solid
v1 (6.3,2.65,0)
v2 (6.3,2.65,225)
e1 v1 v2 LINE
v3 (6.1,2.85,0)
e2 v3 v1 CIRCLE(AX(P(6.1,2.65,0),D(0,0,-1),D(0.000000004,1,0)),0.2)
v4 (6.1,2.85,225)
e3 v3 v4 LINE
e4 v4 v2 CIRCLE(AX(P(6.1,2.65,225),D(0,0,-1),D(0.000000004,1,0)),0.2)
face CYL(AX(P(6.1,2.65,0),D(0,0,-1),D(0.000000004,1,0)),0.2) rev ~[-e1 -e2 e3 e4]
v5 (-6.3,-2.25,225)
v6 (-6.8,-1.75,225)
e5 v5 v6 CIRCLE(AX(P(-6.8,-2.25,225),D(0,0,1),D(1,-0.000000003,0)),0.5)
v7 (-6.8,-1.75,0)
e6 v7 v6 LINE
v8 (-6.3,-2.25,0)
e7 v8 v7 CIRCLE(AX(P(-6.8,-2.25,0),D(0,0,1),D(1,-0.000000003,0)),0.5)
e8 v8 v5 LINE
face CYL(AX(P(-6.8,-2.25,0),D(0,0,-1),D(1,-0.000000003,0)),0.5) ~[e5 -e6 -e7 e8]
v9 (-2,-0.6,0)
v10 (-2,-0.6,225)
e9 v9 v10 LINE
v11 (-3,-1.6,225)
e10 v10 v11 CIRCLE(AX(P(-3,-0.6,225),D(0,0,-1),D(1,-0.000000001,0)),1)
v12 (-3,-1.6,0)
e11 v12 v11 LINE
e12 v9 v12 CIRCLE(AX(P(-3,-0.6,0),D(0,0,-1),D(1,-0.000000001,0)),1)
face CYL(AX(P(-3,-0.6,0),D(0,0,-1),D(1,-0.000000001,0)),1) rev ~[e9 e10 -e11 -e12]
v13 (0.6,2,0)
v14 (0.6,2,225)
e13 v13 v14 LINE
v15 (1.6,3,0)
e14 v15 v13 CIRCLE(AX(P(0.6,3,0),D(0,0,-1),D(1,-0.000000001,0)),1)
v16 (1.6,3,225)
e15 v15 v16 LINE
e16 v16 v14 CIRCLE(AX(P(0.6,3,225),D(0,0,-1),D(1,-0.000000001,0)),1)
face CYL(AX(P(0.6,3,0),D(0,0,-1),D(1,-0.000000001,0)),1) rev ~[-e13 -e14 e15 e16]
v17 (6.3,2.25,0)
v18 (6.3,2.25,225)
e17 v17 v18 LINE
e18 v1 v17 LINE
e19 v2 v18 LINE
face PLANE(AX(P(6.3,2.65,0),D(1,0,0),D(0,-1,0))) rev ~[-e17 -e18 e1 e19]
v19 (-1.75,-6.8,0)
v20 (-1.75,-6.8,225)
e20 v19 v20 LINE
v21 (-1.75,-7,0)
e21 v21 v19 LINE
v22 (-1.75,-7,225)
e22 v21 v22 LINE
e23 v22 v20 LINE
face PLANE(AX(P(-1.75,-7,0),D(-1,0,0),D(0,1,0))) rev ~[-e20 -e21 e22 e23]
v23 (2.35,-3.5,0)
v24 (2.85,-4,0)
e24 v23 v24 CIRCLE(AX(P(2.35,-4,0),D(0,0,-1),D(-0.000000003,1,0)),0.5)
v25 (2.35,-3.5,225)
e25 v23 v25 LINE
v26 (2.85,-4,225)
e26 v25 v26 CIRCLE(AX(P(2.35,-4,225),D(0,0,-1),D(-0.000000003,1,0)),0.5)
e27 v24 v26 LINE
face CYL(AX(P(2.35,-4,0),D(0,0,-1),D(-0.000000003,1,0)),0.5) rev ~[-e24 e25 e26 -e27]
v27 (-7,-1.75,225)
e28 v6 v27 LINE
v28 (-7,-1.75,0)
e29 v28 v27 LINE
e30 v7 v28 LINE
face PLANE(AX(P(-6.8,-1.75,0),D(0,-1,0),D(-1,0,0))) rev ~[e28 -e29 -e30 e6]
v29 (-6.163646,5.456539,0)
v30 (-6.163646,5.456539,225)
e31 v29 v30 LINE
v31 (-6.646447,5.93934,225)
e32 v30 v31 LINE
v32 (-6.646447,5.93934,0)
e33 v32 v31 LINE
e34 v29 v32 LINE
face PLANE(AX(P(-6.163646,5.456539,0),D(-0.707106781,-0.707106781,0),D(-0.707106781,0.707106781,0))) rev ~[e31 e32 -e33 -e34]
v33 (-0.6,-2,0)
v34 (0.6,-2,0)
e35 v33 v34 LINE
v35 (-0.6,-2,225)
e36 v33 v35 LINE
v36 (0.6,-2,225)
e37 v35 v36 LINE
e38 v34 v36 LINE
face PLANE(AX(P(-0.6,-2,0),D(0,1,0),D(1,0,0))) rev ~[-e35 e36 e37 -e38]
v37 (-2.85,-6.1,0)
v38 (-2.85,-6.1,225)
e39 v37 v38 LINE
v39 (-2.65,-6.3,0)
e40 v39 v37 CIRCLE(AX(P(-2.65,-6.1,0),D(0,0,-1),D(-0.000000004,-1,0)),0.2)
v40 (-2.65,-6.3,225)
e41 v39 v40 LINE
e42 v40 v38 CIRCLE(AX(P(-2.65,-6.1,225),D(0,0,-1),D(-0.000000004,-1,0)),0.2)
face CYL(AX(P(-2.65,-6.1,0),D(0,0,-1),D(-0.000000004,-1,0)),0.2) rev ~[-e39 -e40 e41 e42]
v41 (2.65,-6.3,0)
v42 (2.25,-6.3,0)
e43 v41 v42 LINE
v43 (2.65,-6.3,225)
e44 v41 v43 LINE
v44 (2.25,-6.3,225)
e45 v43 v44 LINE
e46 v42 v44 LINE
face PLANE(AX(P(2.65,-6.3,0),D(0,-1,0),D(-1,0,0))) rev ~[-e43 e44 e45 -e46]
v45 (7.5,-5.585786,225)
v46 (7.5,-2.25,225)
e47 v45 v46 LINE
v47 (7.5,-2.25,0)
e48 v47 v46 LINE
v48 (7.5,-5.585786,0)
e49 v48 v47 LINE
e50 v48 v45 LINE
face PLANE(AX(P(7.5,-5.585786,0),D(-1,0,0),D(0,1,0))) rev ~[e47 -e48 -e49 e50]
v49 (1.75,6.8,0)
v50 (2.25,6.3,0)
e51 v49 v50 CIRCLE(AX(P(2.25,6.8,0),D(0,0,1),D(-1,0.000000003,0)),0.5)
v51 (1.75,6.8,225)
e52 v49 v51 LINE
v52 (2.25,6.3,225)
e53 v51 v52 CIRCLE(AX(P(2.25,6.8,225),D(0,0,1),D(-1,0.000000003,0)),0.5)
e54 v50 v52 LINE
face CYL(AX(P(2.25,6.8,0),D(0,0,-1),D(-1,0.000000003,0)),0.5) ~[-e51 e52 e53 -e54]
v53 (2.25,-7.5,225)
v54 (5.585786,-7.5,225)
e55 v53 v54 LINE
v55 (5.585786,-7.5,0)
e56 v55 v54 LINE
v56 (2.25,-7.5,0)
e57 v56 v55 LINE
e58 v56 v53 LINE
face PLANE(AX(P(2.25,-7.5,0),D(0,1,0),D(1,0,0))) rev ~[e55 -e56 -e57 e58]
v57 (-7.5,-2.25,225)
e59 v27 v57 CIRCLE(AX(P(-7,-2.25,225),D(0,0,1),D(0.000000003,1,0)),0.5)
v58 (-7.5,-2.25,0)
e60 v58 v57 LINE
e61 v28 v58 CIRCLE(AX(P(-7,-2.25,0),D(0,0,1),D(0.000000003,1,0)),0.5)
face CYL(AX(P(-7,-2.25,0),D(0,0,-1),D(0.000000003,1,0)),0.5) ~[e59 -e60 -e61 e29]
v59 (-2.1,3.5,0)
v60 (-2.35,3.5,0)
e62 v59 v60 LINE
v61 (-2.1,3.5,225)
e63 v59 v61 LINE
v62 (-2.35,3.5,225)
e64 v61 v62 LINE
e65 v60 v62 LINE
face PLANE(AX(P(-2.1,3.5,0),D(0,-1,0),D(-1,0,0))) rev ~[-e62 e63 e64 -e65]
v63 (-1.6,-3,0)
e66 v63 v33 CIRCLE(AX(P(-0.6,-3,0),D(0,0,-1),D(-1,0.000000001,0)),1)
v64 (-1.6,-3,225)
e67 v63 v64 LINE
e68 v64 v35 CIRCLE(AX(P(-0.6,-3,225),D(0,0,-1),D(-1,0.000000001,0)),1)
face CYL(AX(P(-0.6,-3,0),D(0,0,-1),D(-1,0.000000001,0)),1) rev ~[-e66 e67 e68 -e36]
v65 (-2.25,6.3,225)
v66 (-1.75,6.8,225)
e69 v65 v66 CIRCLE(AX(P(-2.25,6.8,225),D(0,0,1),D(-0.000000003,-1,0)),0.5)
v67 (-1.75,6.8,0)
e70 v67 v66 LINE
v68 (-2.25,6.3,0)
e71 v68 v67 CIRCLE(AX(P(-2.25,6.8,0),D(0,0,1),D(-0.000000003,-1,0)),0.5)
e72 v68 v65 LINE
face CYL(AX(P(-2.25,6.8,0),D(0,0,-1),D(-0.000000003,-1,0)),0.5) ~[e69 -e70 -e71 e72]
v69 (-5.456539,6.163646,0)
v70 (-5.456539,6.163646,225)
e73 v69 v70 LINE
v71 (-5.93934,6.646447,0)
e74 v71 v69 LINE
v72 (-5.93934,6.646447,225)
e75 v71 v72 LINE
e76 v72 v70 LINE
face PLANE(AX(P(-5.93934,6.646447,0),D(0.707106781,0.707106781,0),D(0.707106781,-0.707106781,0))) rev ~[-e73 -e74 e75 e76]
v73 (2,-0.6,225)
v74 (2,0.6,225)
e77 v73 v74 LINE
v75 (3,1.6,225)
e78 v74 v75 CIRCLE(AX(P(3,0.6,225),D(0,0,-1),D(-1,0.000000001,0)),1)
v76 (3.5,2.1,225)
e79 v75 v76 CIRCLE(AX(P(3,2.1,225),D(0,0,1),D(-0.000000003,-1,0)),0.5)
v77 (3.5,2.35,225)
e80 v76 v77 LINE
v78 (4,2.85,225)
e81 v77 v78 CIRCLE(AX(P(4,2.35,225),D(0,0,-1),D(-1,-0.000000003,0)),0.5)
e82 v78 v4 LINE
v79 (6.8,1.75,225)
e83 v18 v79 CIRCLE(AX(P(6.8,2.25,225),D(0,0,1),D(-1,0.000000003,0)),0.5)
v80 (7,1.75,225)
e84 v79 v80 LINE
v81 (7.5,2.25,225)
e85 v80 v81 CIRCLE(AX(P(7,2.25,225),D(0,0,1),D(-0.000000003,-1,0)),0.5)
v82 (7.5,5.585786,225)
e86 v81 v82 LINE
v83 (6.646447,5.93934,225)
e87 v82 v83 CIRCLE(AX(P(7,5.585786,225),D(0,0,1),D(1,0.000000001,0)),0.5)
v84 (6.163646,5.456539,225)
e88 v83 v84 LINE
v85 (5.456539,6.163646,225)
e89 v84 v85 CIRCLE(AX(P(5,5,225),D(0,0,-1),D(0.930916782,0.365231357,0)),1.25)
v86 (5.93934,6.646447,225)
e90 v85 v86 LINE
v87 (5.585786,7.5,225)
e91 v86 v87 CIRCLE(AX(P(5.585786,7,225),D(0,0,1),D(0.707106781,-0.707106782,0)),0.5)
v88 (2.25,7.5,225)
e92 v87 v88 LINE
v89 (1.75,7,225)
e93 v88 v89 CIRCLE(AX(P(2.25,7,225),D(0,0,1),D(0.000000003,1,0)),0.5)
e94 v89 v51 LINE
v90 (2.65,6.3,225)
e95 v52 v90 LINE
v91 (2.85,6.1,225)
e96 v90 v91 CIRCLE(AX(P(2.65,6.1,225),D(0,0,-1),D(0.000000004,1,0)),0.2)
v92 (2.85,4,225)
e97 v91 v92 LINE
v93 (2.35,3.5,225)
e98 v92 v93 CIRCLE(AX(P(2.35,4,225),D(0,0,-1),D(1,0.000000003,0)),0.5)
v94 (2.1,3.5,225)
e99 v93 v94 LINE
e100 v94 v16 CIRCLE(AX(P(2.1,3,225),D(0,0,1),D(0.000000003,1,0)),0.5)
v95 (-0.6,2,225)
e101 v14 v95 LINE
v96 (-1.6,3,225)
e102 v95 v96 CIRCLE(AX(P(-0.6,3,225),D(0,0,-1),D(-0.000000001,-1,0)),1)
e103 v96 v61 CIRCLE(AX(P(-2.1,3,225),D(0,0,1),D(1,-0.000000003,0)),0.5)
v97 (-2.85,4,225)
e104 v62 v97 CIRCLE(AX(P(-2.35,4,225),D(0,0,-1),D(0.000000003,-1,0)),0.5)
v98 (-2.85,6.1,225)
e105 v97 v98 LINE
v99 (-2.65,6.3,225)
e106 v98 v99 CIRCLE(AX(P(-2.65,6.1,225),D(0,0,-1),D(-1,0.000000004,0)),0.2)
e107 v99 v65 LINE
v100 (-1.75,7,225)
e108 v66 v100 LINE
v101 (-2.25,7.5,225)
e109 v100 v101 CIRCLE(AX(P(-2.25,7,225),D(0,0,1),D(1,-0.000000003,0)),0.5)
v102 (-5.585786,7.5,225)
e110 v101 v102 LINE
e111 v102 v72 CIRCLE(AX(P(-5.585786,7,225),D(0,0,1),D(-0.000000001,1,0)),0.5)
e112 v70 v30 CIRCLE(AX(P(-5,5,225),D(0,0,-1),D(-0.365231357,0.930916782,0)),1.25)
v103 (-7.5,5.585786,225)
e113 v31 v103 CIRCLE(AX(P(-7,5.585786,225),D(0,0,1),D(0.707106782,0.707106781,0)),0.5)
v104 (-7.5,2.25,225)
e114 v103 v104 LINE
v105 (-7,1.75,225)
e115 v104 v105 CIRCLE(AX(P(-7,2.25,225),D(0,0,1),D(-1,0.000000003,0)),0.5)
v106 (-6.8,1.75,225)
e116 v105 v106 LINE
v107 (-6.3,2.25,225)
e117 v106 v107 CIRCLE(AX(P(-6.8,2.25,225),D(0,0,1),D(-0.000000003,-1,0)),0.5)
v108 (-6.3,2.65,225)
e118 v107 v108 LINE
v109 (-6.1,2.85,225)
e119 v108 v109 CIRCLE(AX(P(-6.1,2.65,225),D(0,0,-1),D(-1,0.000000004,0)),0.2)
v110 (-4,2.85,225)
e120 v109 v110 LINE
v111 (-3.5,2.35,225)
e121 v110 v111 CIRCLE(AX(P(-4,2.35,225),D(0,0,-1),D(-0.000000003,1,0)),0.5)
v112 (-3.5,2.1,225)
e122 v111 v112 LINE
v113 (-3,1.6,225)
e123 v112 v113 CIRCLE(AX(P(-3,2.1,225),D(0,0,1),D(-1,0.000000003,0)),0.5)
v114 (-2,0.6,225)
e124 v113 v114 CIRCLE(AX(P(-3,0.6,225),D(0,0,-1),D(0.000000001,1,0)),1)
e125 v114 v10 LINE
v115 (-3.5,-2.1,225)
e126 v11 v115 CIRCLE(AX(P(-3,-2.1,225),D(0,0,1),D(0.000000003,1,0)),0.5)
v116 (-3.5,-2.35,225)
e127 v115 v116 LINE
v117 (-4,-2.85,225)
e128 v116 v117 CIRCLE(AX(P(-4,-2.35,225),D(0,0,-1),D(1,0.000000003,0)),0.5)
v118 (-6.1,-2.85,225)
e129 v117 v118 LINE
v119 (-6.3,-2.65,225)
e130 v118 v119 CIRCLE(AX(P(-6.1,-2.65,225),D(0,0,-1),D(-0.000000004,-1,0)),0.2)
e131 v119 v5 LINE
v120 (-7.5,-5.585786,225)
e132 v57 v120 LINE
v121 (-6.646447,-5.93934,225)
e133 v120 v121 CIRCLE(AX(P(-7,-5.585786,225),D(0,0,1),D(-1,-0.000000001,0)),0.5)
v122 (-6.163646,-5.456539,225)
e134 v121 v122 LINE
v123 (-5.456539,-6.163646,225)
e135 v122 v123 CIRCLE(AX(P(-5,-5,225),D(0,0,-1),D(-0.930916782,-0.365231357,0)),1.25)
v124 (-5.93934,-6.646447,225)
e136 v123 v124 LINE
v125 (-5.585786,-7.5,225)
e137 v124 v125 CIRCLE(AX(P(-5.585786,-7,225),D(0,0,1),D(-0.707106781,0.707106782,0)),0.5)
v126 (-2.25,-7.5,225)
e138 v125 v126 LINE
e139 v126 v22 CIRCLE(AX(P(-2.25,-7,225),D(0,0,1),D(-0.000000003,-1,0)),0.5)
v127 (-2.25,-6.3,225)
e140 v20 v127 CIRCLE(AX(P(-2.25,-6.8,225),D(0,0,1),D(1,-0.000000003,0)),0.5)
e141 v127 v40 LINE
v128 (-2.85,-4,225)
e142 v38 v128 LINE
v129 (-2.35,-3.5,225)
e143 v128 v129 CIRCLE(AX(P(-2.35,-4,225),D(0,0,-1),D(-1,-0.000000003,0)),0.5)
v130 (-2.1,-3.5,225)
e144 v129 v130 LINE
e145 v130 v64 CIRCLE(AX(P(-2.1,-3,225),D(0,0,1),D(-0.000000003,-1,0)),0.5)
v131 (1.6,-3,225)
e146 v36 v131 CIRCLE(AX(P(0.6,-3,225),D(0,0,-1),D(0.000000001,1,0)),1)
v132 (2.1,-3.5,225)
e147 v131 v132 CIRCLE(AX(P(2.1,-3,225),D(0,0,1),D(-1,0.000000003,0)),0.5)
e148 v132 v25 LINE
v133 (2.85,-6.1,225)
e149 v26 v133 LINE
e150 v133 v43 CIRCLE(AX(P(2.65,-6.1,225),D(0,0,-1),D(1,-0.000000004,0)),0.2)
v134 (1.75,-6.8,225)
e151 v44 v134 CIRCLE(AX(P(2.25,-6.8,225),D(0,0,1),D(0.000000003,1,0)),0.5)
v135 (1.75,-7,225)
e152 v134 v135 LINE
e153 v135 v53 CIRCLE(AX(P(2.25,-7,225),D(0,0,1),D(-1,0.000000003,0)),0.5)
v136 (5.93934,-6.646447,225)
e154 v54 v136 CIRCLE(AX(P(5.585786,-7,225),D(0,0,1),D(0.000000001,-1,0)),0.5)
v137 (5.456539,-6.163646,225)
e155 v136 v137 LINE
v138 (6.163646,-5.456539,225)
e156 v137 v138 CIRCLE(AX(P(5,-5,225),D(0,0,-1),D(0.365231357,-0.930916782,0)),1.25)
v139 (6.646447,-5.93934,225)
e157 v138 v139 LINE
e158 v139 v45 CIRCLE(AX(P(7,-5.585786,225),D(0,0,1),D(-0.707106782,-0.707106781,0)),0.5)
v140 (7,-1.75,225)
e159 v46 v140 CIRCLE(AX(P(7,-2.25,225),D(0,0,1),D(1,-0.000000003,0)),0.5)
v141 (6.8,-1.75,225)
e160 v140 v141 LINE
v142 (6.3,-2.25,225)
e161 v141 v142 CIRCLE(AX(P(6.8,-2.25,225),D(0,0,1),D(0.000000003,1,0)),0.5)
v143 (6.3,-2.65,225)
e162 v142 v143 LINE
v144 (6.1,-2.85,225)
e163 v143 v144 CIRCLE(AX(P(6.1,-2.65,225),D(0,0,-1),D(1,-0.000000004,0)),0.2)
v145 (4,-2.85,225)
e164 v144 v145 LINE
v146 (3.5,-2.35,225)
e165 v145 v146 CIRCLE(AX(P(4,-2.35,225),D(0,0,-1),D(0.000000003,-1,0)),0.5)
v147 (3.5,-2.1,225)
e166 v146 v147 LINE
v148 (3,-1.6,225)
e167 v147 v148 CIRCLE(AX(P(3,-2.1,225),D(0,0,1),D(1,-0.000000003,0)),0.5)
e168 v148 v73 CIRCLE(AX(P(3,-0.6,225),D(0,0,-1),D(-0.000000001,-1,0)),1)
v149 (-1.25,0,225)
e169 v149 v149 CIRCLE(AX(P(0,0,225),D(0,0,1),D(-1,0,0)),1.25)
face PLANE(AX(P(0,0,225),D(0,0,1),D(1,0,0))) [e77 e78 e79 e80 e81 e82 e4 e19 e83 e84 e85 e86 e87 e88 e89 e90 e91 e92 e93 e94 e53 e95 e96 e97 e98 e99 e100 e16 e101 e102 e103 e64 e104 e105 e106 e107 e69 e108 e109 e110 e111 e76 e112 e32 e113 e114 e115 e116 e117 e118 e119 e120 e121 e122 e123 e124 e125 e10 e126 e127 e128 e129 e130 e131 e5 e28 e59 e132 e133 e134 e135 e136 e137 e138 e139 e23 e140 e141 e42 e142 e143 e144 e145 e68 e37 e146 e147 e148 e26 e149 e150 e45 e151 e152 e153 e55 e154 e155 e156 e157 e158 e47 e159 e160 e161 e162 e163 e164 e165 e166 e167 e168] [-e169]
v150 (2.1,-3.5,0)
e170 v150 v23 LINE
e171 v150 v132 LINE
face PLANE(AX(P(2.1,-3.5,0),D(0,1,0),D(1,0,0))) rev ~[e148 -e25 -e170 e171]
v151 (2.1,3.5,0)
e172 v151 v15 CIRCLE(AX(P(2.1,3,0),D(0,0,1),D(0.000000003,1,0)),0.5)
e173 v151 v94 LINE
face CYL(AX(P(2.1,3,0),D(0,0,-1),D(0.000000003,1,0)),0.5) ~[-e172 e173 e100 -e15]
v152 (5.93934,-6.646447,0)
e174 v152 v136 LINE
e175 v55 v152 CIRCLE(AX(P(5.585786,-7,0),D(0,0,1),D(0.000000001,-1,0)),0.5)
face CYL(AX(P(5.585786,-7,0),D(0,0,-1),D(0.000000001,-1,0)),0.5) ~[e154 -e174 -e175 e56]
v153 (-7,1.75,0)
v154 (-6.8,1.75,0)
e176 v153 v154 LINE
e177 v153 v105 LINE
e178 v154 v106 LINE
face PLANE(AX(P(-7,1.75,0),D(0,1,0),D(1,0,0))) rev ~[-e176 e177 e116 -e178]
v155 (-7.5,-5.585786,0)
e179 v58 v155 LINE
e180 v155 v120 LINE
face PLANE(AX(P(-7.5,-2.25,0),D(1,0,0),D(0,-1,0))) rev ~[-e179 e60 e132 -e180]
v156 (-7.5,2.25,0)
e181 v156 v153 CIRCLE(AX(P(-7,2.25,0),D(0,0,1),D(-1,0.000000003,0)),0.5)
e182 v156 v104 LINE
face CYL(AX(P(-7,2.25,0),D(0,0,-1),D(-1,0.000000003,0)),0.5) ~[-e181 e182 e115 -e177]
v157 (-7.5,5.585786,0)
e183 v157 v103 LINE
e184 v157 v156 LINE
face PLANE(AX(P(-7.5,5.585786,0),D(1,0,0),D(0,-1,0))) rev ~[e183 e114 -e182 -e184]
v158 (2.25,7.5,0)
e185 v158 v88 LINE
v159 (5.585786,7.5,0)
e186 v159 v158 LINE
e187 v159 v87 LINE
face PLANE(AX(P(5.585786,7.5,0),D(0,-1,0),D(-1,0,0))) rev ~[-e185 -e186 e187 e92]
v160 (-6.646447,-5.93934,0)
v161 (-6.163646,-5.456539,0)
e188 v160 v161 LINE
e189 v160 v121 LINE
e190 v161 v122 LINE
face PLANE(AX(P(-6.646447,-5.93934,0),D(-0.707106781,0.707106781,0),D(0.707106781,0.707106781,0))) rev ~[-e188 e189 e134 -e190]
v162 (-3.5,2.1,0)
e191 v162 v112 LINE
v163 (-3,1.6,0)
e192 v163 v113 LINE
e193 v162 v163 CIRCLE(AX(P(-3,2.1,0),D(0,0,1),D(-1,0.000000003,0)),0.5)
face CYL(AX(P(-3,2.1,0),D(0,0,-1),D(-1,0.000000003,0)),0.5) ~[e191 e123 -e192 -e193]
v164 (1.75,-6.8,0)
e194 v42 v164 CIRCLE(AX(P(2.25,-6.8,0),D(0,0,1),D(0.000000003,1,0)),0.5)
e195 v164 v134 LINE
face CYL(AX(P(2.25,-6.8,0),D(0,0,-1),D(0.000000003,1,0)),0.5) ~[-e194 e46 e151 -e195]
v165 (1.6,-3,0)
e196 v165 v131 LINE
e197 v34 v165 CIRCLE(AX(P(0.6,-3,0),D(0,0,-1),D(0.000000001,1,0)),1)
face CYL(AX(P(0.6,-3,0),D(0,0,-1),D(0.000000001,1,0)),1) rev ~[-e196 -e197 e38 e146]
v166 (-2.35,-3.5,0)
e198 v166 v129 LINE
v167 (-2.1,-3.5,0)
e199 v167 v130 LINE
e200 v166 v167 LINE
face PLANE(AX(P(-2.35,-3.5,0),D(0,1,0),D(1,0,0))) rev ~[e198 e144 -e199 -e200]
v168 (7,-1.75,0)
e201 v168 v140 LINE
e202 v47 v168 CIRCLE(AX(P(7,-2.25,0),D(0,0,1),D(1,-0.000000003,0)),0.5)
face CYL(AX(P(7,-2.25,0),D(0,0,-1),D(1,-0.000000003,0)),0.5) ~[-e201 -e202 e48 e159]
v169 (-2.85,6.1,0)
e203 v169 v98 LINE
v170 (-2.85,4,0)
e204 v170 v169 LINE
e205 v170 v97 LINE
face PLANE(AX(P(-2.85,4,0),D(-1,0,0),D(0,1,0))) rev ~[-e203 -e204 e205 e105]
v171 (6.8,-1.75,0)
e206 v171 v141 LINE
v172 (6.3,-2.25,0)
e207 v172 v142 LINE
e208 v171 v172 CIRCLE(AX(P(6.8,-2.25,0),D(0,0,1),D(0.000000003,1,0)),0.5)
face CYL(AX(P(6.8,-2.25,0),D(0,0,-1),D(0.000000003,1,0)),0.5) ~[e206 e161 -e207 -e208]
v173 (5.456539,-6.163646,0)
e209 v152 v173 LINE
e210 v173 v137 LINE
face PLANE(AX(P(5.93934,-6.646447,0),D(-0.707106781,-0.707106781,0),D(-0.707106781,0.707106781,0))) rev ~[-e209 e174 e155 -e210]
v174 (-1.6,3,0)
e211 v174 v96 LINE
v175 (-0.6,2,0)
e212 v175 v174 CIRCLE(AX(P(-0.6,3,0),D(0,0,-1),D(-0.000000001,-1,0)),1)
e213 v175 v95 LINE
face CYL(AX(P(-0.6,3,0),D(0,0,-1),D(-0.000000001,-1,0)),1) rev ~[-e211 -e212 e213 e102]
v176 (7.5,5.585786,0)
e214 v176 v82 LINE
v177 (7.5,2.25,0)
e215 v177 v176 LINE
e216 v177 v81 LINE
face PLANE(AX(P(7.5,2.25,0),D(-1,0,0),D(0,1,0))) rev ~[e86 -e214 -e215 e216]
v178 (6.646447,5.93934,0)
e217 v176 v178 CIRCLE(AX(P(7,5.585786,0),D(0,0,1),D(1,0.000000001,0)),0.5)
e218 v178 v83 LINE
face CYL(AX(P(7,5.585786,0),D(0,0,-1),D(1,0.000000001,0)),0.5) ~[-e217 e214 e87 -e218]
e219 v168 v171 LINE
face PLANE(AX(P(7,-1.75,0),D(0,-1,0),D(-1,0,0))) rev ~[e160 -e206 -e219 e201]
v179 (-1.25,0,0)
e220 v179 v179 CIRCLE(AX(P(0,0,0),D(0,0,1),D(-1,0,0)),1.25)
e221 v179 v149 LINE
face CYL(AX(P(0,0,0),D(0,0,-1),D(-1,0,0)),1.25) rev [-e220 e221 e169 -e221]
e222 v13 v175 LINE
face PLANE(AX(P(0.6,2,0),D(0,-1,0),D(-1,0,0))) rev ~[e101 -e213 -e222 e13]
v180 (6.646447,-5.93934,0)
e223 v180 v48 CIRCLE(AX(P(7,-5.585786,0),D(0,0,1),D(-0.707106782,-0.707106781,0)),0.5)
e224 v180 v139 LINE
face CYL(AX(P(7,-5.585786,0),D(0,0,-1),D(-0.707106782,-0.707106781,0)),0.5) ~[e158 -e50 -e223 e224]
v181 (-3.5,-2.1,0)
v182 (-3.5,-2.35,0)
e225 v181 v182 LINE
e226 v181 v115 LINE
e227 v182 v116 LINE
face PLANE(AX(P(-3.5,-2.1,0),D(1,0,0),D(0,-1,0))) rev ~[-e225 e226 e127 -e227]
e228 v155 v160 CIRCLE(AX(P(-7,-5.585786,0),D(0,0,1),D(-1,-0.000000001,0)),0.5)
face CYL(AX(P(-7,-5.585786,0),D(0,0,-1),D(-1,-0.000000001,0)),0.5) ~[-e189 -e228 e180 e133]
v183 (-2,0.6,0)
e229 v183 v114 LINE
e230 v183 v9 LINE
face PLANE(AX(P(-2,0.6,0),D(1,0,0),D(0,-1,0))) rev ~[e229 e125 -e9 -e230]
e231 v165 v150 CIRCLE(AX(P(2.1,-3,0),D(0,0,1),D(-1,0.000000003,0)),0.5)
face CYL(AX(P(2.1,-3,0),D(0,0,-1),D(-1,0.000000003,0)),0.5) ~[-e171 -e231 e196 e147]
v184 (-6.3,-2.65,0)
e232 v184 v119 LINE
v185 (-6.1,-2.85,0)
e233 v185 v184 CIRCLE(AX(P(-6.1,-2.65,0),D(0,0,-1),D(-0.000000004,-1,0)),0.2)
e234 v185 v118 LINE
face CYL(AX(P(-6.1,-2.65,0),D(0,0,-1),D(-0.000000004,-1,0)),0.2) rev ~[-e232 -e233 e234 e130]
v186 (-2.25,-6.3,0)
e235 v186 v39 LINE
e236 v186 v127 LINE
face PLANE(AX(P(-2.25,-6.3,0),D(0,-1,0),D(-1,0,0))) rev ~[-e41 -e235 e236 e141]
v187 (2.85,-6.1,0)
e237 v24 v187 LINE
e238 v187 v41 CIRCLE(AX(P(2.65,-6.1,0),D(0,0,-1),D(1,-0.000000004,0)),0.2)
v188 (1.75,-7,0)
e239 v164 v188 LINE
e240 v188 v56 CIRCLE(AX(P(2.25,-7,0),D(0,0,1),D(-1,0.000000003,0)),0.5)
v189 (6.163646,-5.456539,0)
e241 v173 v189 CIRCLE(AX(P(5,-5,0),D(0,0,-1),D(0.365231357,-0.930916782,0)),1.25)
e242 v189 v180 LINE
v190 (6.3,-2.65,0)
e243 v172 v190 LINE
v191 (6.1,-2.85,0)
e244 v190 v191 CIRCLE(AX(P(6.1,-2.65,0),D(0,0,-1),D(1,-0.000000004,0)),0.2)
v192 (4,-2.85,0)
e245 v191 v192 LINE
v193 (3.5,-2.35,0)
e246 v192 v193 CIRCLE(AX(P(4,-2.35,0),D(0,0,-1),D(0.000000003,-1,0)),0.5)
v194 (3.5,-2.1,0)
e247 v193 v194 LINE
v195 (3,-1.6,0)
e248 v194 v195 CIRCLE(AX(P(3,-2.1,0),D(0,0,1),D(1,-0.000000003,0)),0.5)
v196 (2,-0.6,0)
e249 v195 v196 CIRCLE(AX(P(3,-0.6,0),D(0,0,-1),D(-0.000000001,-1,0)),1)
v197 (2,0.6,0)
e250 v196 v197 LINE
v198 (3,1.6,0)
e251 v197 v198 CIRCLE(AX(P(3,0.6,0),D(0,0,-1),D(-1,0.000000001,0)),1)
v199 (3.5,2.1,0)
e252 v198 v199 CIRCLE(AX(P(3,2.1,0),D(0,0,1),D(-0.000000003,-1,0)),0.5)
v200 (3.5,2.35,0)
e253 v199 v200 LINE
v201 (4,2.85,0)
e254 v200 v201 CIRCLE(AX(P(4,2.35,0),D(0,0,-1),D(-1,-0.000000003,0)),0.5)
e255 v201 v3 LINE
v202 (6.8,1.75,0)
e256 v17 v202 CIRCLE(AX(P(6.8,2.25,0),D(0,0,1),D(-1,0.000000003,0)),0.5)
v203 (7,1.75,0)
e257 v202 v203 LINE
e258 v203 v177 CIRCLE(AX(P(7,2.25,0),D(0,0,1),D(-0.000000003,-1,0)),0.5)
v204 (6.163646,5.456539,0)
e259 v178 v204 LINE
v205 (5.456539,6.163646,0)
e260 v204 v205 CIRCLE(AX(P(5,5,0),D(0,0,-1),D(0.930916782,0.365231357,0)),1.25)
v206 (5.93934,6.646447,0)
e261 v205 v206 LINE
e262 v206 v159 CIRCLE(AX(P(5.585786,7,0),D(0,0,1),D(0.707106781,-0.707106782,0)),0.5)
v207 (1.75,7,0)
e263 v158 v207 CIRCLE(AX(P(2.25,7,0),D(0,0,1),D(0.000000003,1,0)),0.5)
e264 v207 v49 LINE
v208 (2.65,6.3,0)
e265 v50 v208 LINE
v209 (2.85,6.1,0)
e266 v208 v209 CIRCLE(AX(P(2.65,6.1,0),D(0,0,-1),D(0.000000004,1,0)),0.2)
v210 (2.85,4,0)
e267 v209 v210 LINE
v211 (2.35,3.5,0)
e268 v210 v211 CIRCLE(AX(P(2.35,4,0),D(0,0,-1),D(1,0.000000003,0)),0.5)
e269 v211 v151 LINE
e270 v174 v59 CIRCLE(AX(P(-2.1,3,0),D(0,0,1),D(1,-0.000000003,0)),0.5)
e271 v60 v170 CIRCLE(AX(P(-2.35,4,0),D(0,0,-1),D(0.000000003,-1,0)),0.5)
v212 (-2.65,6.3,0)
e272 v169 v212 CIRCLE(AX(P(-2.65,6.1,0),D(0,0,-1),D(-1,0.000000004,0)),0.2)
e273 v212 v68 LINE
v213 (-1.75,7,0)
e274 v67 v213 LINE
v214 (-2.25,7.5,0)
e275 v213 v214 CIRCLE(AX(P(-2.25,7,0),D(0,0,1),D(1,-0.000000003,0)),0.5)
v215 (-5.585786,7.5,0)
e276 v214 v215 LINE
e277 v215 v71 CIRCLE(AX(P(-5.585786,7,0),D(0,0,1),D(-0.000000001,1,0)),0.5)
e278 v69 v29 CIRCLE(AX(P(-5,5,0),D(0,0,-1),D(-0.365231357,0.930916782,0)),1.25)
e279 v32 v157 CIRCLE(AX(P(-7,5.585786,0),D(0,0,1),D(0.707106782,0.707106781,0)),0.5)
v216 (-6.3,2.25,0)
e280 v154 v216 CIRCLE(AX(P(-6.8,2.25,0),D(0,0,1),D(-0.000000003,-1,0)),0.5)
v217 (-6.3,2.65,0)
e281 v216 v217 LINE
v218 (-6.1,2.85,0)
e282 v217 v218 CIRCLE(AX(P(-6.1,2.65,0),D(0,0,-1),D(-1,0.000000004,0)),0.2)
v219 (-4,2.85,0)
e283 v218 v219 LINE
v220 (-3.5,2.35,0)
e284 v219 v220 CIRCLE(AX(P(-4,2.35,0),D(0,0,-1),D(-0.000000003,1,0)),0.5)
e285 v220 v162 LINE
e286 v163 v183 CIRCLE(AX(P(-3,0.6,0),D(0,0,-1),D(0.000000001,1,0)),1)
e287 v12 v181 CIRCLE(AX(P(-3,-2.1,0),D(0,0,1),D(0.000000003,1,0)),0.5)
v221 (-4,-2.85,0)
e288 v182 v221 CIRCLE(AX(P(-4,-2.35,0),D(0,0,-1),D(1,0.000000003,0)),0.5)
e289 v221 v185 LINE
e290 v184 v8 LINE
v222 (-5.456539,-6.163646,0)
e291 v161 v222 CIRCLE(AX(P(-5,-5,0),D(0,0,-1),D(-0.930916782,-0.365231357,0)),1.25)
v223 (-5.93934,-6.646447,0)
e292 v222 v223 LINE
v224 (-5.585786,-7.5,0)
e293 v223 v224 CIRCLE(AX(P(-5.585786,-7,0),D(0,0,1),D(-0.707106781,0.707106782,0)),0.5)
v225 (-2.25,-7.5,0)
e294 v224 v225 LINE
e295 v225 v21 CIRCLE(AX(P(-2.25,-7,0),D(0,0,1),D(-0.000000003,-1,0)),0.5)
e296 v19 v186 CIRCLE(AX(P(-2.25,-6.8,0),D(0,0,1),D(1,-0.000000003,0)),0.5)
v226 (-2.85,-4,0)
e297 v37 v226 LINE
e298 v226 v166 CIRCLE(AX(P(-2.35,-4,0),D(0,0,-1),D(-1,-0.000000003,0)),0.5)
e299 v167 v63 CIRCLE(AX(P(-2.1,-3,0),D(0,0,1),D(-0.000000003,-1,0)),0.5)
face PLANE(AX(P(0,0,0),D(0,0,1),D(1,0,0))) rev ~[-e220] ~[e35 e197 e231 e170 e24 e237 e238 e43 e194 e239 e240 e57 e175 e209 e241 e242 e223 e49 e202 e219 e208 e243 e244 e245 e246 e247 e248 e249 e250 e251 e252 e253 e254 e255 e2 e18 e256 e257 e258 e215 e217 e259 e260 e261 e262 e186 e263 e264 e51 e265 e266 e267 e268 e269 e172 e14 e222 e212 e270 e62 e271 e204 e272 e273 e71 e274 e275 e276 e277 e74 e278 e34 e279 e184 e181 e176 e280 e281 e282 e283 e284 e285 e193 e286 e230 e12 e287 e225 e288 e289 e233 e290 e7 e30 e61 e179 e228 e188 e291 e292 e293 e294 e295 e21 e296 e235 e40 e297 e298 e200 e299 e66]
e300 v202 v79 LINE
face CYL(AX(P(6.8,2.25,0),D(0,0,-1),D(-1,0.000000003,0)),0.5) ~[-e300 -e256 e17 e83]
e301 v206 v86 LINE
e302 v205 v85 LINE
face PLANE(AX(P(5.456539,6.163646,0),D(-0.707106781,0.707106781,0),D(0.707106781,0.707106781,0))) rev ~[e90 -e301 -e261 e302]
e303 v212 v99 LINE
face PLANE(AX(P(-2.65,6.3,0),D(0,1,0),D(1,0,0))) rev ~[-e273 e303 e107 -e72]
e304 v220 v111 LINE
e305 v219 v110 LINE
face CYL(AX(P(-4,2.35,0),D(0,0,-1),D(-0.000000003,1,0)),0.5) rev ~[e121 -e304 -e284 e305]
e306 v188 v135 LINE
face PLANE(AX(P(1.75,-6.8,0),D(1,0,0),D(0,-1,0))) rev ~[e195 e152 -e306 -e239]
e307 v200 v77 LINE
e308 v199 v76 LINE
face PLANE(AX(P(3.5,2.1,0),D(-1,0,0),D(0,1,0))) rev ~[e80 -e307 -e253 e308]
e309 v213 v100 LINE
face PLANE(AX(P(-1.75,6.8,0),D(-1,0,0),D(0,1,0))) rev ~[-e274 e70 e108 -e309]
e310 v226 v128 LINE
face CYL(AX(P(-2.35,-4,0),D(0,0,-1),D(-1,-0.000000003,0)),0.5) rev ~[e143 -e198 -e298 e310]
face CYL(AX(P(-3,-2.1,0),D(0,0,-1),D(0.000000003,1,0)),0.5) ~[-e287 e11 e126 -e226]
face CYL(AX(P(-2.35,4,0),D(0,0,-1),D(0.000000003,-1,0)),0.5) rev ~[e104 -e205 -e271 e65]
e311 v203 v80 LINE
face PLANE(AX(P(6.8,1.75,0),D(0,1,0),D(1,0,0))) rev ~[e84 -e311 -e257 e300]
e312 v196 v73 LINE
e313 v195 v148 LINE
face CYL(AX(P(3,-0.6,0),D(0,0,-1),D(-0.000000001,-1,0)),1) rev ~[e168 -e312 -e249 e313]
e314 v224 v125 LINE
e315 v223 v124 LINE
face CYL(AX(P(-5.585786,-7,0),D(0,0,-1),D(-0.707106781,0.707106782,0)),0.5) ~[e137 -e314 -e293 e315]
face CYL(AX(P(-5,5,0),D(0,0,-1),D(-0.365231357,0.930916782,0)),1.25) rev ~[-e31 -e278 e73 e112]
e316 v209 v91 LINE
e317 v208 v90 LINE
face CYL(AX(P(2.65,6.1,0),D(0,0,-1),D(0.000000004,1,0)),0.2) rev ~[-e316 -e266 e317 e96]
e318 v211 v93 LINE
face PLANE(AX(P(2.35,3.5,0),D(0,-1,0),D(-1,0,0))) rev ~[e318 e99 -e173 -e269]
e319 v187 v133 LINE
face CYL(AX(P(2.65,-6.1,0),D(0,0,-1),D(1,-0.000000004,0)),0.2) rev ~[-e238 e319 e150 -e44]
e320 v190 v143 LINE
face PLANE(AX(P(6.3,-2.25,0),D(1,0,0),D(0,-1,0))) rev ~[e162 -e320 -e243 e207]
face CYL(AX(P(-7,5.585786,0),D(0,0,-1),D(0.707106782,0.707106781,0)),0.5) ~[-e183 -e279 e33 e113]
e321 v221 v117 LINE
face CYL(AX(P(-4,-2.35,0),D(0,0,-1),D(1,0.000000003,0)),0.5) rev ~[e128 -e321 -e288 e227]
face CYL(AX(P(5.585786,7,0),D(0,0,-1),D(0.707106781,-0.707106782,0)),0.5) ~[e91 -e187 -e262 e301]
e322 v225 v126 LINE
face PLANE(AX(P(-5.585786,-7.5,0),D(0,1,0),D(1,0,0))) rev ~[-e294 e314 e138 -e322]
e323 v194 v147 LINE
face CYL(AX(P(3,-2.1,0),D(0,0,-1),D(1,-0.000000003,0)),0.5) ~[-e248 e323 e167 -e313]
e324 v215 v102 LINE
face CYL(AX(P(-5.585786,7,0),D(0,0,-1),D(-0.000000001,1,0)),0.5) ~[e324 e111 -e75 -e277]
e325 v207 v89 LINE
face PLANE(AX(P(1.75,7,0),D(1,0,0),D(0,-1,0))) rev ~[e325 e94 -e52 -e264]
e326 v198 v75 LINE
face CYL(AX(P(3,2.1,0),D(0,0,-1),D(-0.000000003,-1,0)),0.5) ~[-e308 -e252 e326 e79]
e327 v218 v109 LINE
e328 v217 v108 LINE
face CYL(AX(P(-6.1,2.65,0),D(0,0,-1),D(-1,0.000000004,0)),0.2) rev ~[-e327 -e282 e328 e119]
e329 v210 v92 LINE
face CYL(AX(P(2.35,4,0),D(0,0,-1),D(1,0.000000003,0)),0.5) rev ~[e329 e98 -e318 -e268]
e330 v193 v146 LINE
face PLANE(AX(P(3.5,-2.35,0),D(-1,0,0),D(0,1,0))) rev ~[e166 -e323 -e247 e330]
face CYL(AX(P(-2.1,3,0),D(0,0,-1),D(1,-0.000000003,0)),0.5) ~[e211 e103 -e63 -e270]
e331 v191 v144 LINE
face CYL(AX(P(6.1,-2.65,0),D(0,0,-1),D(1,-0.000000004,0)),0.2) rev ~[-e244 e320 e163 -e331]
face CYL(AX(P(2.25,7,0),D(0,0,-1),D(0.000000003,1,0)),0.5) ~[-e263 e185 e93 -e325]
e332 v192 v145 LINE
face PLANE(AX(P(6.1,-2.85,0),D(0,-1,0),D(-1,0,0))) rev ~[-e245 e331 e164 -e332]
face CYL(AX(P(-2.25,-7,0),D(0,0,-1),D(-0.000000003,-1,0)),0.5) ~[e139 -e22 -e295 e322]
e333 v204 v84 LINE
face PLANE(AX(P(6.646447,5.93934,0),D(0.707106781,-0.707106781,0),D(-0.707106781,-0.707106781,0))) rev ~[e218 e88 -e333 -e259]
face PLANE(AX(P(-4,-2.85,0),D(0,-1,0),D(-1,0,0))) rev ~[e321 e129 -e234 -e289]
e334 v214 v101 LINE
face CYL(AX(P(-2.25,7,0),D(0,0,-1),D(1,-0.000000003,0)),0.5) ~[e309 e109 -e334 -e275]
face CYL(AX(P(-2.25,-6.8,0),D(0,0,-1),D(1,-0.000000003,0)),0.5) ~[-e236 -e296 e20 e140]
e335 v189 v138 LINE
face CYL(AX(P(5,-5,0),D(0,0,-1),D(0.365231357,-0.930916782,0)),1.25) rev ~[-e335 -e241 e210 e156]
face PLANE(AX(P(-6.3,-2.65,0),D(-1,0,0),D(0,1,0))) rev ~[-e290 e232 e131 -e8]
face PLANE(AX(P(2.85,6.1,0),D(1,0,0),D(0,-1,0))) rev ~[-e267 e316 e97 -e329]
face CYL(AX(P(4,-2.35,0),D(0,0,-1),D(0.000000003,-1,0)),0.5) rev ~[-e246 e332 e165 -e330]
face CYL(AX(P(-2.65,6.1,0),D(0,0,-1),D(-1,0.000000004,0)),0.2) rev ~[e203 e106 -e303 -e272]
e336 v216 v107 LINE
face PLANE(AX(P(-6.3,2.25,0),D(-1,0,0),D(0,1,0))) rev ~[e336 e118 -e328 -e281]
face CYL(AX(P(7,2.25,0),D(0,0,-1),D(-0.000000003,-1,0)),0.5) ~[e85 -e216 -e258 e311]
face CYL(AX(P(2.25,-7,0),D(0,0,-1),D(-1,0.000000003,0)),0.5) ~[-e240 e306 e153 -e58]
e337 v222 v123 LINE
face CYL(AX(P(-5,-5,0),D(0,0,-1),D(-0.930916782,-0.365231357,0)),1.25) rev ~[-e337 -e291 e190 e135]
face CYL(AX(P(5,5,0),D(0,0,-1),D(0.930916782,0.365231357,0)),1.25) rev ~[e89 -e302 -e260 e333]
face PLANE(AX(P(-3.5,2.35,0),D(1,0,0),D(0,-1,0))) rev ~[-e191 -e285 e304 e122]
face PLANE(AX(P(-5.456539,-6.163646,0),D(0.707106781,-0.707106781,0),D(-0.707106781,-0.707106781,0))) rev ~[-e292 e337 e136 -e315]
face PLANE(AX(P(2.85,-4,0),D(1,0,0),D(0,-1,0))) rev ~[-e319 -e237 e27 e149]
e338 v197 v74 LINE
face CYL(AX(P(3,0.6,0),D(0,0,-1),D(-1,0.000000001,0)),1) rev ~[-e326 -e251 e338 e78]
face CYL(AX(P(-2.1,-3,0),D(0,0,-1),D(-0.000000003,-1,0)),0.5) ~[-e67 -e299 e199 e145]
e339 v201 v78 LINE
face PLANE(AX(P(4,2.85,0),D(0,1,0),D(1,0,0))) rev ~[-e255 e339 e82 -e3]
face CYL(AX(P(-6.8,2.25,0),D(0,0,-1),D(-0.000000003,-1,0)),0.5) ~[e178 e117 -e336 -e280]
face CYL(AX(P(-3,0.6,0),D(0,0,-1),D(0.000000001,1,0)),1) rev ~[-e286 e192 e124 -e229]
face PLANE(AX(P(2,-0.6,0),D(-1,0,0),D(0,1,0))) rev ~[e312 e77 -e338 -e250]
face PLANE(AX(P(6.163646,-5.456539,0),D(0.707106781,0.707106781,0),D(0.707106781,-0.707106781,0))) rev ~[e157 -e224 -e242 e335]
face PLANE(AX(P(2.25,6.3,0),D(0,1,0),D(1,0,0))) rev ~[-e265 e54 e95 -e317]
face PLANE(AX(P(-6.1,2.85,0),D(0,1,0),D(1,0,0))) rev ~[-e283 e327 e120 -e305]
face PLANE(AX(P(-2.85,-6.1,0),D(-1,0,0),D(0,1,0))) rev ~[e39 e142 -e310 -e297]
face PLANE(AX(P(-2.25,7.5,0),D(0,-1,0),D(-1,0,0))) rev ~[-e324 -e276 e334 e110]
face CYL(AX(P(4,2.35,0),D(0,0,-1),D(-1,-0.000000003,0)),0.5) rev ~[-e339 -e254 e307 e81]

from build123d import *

# Parameters (mm, degrees)
SKETCH1_R           = 1.25
BOSS_EXTRUDE1_DEPTH = 225


with BuildPart() as part:
    # Sketch1 → Boss-Extrude1 (new body)
    with BuildSketch(Plane.XY):
        with BuildLine():
            Line((6.646446609, 5.939339828), (6.163645978, 5.456539197))
            ThreePointArc((6.163645978, 5.456539197), (4.116116524, 4.116116524), (5.456539197, 6.163645978))
            Line((5.456539197, 6.163645978), (5.939339828, 6.646446609))
            ThreePointArc((5.939339828, 6.646446609), (6.047726204, 7.191341716), (5.585786438, 7.5))
            Line((5.585786438, 7.5), (2.25, 7.5))
            ThreePointArc((2.25, 7.5), (1.896446609, 7.353553391), (1.75, 7))
            Line((1.75, 7), (1.75, 6.8))
            ThreePointArc((1.75, 6.8), (1.896446609, 6.446446609), (2.25, 6.3))
            Line((2.25, 6.3), (2.65, 6.3))
            ThreePointArc((2.65, 6.3), (2.791421356, 6.241421356), (2.85, 6.1))
            Line((2.85, 6.1), (2.85, 4))
            ThreePointArc((2.85, 4), (2.703553391, 3.646446609), (2.35, 3.5))
            Line((2.35, 3.5), (2.1, 3.5))
            ThreePointArc((2.1, 3.5), (1.746446609, 3.353553391), (1.6, 3))
            ThreePointArc((1.6, 3), (1.307106781, 2.292893219), (0.6, 2))
            Line((0.6, 2), (-0.6, 2))
            ThreePointArc((-0.6, 2), (-1.307106781, 2.292893219), (-1.6, 3))
            ThreePointArc((-1.6, 3), (-1.746446609, 3.353553391), (-2.1, 3.5))
            Line((-2.1, 3.5), (-2.35, 3.5))
            ThreePointArc((-2.35, 3.5), (-2.703553391, 3.646446609), (-2.85, 4))
            Line((-2.85, 4), (-2.85, 6.1))
            ThreePointArc((-2.85, 6.1), (-2.791421356, 6.241421356), (-2.65, 6.3))
            Line((-2.65, 6.3), (-2.25, 6.3))
            ThreePointArc((-2.25, 6.3), (-1.896446609, 6.446446609), (-1.75, 6.8))
            Line((-1.75, 6.8), (-1.75, 7))
            ThreePointArc((-1.75, 7), (-1.896446609, 7.353553391), (-2.25, 7.5))
            Line((-2.25, 7.5), (-5.585786438, 7.5))
            ThreePointArc((-5.585786438, 7.5), (-6.047726204, 7.191341716), (-5.939339828, 6.646446609))
            Line((-5.939339828, 6.646446609), (-5.456539197, 6.163645978))
            ThreePointArc((-5.456539197, 6.163645978), (-4.116116524, 4.116116524), (-6.163645978, 5.456539197))
            Line((-6.163645978, 5.456539197), (-6.646446609, 5.939339828))
            ThreePointArc((-6.646446609, 5.939339828), (-7.191341716, 6.047726204), (-7.5, 5.585786438))
            Line((-7.5, 5.585786438), (-7.5, 2.25))
            ThreePointArc((-7.5, 2.25), (-7.353553391, 1.896446609), (-7, 1.75))
            Line((-7, 1.75), (-6.8, 1.75))
            ThreePointArc((-6.8, 1.75), (-6.446446609, 1.896446609), (-6.3, 2.25))
            Line((-6.3, 2.25), (-6.3, 2.65))
            ThreePointArc((-6.3, 2.65), (-6.241421356, 2.791421356), (-6.1, 2.85))
            Line((-6.1, 2.85), (-4, 2.85))
            ThreePointArc((-4, 2.85), (-3.646446609, 2.703553391), (-3.5, 2.35))
            Line((-3.5, 2.35), (-3.5, 2.1))
            ThreePointArc((-3.5, 2.1), (-3.353553391, 1.746446609), (-3, 1.6))
            ThreePointArc((-3, 1.6), (-2.292893219, 1.307106781), (-2, 0.6))
            Line((-2, 0.6), (-2, -0.6))
            ThreePointArc((-2, -0.6), (-2.292893219, -1.307106781), (-3, -1.6))
            ThreePointArc((-3, -1.6), (-3.353553391, -1.746446609), (-3.5, -2.1))
            Line((-3.5, -2.1), (-3.5, -2.35))
            ThreePointArc((-3.5, -2.35), (-3.646446609, -2.703553391), (-4, -2.85))
            Line((-4, -2.85), (-6.1, -2.85))
            ThreePointArc((-6.1, -2.85), (-6.241421356, -2.791421356), (-6.3, -2.65))
            Line((-6.3, -2.65), (-6.3, -2.25))
            ThreePointArc((-6.3, -2.25), (-6.446446609, -1.896446609), (-6.8, -1.75))
            Line((-6.8, -1.75), (-7, -1.75))
            ThreePointArc((-7, -1.75), (-7.353553391, -1.896446609), (-7.5, -2.25))
            Line((-7.5, -2.25), (-7.5, -5.585786438))
            ThreePointArc((-7.5, -5.585786438), (-7.191341716, -6.047726204), (-6.646446609, -5.939339828))
            Line((-6.646446609, -5.939339828), (-6.163645978, -5.456539197))
            ThreePointArc((-6.163645978, -5.456539197), (-4.116116524, -4.116116524), (-5.456539197, -6.163645978))
            Line((-5.456539197, -6.163645978), (-5.939339828, -6.646446609))
            ThreePointArc((-5.939339828, -6.646446609), (-6.047726204, -7.191341716), (-5.585786438, -7.5))
            Line((-5.585786438, -7.5), (-2.25, -7.5))
            ThreePointArc((-2.25, -7.5), (-1.896446609, -7.353553391), (-1.75, -7))
            Line((-1.75, -7), (-1.75, -6.8))
            ThreePointArc((-1.75, -6.8), (-1.896446609, -6.446446609), (-2.25, -6.3))
            Line((-2.25, -6.3), (-2.65, -6.3))
            ThreePointArc((-2.65, -6.3), (-2.791421356, -6.241421356), (-2.85, -6.1))
            Line((-2.85, -6.1), (-2.85, -4))
            ThreePointArc((-2.85, -4), (-2.703553391, -3.646446609), (-2.35, -3.5))
            Line((-2.35, -3.5), (-2.1, -3.5))
            ThreePointArc((-2.1, -3.5), (-1.746446609, -3.353553391), (-1.6, -3))
            ThreePointArc((-1.6, -3), (-1.307106781, -2.292893219), (-0.6, -2))
            Line((-0.6, -2), (0.6, -2))
            ThreePointArc((0.6, -2), (1.307106781, -2.292893219), (1.6, -3))
            ThreePointArc((1.6, -3), (1.746446609, -3.353553391), (2.1, -3.5))
            Line((2.1, -3.5), (2.35, -3.5))
            ThreePointArc((2.35, -3.5), (2.703553391, -3.646446609), (2.85, -4))
            Line((2.85, -4), (2.85, -6.1))
            ThreePointArc((2.85, -6.1), (2.791421356, -6.241421356), (2.65, -6.3))
            Line((2.65, -6.3), (2.25, -6.3))
            ThreePointArc((2.25, -6.3), (1.896446609, -6.446446609), (1.75, -6.8))
            Line((1.75, -6.8), (1.75, -7))
            ThreePointArc((1.75, -7), (1.896446609, -7.353553391), (2.25, -7.5))
            Line((2.25, -7.5), (5.585786438, -7.5))
            ThreePointArc((5.585786438, -7.5), (6.047726204, -7.191341716), (5.939339828, -6.646446609))
            Line((5.939339828, -6.646446609), (5.456539197, -6.163645978))
            ThreePointArc((5.456539197, -6.163645978), (4.116116524, -4.116116524), (6.163645978, -5.456539197))
            Line((6.163645978, -5.456539197), (6.646446609, -5.939339828))
            ThreePointArc((6.646446609, -5.939339828), (7.191341716, -6.047726204), (7.5, -5.585786438))
            Line((7.5, -5.585786438), (7.5, -2.25))
            ThreePointArc((7.5, -2.25), (7.353553391, -1.896446609), (7, -1.75))
            Line((7, -1.75), (6.8, -1.75))
            ThreePointArc((6.8, -1.75), (6.446446609, -1.896446609), (6.3, -2.25))
            Line((6.3, -2.25), (6.3, -2.65))
            ThreePointArc((6.3, -2.65), (6.241421356, -2.791421356), (6.1, -2.85))
            Line((6.1, -2.85), (4, -2.85))
            ThreePointArc((4, -2.85), (3.646446609, -2.703553391), (3.5, -2.35))
            Line((3.5, -2.35), (3.5, -2.1))
            ThreePointArc((3.5, -2.1), (3.353553391, -1.746446609), (3, -1.6))
            ThreePointArc((3, -1.6), (2.292893219, -1.307106781), (2, -0.6))
            Line((2, -0.6), (2, 0.6))
            ThreePointArc((2, 0.6), (2.292893219, 1.307106781), (3, 1.6))
            ThreePointArc((3, 1.6), (3.353553391, 1.746446609), (3.5, 2.1))
            Line((3.5, 2.1), (3.5, 2.35))
            ThreePointArc((3.5, 2.35), (3.646446609, 2.703553391), (4, 2.85))
            Line((4, 2.85), (6.1, 2.85))
            ThreePointArc((6.1, 2.85), (6.241421356, 2.791421356), (6.3, 2.65))
            Line((6.3, 2.65), (6.3, 2.25))
            ThreePointArc((6.3, 2.25), (6.446446609, 1.896446609), (6.8, 1.75))
            Line((6.8, 1.75), (7, 1.75))
            ThreePointArc((7, 1.75), (7.353553391, 1.896446609), (7.5, 2.25))
            Line((7.5, 2.25), (7.5, 5.585786438))
            ThreePointArc((7.5, 5.585786438), (7.191341716, 6.047726204), (6.646446609, 5.939339828))
        make_face()
        with Locations(Location((0, 0, 0), (0, 0, 180))):
            Circle(SKETCH1_R, mode=Mode.SUBTRACT)
    extrude(amount=BOSS_EXTRUDE1_DEPTH)


solid = part.part
